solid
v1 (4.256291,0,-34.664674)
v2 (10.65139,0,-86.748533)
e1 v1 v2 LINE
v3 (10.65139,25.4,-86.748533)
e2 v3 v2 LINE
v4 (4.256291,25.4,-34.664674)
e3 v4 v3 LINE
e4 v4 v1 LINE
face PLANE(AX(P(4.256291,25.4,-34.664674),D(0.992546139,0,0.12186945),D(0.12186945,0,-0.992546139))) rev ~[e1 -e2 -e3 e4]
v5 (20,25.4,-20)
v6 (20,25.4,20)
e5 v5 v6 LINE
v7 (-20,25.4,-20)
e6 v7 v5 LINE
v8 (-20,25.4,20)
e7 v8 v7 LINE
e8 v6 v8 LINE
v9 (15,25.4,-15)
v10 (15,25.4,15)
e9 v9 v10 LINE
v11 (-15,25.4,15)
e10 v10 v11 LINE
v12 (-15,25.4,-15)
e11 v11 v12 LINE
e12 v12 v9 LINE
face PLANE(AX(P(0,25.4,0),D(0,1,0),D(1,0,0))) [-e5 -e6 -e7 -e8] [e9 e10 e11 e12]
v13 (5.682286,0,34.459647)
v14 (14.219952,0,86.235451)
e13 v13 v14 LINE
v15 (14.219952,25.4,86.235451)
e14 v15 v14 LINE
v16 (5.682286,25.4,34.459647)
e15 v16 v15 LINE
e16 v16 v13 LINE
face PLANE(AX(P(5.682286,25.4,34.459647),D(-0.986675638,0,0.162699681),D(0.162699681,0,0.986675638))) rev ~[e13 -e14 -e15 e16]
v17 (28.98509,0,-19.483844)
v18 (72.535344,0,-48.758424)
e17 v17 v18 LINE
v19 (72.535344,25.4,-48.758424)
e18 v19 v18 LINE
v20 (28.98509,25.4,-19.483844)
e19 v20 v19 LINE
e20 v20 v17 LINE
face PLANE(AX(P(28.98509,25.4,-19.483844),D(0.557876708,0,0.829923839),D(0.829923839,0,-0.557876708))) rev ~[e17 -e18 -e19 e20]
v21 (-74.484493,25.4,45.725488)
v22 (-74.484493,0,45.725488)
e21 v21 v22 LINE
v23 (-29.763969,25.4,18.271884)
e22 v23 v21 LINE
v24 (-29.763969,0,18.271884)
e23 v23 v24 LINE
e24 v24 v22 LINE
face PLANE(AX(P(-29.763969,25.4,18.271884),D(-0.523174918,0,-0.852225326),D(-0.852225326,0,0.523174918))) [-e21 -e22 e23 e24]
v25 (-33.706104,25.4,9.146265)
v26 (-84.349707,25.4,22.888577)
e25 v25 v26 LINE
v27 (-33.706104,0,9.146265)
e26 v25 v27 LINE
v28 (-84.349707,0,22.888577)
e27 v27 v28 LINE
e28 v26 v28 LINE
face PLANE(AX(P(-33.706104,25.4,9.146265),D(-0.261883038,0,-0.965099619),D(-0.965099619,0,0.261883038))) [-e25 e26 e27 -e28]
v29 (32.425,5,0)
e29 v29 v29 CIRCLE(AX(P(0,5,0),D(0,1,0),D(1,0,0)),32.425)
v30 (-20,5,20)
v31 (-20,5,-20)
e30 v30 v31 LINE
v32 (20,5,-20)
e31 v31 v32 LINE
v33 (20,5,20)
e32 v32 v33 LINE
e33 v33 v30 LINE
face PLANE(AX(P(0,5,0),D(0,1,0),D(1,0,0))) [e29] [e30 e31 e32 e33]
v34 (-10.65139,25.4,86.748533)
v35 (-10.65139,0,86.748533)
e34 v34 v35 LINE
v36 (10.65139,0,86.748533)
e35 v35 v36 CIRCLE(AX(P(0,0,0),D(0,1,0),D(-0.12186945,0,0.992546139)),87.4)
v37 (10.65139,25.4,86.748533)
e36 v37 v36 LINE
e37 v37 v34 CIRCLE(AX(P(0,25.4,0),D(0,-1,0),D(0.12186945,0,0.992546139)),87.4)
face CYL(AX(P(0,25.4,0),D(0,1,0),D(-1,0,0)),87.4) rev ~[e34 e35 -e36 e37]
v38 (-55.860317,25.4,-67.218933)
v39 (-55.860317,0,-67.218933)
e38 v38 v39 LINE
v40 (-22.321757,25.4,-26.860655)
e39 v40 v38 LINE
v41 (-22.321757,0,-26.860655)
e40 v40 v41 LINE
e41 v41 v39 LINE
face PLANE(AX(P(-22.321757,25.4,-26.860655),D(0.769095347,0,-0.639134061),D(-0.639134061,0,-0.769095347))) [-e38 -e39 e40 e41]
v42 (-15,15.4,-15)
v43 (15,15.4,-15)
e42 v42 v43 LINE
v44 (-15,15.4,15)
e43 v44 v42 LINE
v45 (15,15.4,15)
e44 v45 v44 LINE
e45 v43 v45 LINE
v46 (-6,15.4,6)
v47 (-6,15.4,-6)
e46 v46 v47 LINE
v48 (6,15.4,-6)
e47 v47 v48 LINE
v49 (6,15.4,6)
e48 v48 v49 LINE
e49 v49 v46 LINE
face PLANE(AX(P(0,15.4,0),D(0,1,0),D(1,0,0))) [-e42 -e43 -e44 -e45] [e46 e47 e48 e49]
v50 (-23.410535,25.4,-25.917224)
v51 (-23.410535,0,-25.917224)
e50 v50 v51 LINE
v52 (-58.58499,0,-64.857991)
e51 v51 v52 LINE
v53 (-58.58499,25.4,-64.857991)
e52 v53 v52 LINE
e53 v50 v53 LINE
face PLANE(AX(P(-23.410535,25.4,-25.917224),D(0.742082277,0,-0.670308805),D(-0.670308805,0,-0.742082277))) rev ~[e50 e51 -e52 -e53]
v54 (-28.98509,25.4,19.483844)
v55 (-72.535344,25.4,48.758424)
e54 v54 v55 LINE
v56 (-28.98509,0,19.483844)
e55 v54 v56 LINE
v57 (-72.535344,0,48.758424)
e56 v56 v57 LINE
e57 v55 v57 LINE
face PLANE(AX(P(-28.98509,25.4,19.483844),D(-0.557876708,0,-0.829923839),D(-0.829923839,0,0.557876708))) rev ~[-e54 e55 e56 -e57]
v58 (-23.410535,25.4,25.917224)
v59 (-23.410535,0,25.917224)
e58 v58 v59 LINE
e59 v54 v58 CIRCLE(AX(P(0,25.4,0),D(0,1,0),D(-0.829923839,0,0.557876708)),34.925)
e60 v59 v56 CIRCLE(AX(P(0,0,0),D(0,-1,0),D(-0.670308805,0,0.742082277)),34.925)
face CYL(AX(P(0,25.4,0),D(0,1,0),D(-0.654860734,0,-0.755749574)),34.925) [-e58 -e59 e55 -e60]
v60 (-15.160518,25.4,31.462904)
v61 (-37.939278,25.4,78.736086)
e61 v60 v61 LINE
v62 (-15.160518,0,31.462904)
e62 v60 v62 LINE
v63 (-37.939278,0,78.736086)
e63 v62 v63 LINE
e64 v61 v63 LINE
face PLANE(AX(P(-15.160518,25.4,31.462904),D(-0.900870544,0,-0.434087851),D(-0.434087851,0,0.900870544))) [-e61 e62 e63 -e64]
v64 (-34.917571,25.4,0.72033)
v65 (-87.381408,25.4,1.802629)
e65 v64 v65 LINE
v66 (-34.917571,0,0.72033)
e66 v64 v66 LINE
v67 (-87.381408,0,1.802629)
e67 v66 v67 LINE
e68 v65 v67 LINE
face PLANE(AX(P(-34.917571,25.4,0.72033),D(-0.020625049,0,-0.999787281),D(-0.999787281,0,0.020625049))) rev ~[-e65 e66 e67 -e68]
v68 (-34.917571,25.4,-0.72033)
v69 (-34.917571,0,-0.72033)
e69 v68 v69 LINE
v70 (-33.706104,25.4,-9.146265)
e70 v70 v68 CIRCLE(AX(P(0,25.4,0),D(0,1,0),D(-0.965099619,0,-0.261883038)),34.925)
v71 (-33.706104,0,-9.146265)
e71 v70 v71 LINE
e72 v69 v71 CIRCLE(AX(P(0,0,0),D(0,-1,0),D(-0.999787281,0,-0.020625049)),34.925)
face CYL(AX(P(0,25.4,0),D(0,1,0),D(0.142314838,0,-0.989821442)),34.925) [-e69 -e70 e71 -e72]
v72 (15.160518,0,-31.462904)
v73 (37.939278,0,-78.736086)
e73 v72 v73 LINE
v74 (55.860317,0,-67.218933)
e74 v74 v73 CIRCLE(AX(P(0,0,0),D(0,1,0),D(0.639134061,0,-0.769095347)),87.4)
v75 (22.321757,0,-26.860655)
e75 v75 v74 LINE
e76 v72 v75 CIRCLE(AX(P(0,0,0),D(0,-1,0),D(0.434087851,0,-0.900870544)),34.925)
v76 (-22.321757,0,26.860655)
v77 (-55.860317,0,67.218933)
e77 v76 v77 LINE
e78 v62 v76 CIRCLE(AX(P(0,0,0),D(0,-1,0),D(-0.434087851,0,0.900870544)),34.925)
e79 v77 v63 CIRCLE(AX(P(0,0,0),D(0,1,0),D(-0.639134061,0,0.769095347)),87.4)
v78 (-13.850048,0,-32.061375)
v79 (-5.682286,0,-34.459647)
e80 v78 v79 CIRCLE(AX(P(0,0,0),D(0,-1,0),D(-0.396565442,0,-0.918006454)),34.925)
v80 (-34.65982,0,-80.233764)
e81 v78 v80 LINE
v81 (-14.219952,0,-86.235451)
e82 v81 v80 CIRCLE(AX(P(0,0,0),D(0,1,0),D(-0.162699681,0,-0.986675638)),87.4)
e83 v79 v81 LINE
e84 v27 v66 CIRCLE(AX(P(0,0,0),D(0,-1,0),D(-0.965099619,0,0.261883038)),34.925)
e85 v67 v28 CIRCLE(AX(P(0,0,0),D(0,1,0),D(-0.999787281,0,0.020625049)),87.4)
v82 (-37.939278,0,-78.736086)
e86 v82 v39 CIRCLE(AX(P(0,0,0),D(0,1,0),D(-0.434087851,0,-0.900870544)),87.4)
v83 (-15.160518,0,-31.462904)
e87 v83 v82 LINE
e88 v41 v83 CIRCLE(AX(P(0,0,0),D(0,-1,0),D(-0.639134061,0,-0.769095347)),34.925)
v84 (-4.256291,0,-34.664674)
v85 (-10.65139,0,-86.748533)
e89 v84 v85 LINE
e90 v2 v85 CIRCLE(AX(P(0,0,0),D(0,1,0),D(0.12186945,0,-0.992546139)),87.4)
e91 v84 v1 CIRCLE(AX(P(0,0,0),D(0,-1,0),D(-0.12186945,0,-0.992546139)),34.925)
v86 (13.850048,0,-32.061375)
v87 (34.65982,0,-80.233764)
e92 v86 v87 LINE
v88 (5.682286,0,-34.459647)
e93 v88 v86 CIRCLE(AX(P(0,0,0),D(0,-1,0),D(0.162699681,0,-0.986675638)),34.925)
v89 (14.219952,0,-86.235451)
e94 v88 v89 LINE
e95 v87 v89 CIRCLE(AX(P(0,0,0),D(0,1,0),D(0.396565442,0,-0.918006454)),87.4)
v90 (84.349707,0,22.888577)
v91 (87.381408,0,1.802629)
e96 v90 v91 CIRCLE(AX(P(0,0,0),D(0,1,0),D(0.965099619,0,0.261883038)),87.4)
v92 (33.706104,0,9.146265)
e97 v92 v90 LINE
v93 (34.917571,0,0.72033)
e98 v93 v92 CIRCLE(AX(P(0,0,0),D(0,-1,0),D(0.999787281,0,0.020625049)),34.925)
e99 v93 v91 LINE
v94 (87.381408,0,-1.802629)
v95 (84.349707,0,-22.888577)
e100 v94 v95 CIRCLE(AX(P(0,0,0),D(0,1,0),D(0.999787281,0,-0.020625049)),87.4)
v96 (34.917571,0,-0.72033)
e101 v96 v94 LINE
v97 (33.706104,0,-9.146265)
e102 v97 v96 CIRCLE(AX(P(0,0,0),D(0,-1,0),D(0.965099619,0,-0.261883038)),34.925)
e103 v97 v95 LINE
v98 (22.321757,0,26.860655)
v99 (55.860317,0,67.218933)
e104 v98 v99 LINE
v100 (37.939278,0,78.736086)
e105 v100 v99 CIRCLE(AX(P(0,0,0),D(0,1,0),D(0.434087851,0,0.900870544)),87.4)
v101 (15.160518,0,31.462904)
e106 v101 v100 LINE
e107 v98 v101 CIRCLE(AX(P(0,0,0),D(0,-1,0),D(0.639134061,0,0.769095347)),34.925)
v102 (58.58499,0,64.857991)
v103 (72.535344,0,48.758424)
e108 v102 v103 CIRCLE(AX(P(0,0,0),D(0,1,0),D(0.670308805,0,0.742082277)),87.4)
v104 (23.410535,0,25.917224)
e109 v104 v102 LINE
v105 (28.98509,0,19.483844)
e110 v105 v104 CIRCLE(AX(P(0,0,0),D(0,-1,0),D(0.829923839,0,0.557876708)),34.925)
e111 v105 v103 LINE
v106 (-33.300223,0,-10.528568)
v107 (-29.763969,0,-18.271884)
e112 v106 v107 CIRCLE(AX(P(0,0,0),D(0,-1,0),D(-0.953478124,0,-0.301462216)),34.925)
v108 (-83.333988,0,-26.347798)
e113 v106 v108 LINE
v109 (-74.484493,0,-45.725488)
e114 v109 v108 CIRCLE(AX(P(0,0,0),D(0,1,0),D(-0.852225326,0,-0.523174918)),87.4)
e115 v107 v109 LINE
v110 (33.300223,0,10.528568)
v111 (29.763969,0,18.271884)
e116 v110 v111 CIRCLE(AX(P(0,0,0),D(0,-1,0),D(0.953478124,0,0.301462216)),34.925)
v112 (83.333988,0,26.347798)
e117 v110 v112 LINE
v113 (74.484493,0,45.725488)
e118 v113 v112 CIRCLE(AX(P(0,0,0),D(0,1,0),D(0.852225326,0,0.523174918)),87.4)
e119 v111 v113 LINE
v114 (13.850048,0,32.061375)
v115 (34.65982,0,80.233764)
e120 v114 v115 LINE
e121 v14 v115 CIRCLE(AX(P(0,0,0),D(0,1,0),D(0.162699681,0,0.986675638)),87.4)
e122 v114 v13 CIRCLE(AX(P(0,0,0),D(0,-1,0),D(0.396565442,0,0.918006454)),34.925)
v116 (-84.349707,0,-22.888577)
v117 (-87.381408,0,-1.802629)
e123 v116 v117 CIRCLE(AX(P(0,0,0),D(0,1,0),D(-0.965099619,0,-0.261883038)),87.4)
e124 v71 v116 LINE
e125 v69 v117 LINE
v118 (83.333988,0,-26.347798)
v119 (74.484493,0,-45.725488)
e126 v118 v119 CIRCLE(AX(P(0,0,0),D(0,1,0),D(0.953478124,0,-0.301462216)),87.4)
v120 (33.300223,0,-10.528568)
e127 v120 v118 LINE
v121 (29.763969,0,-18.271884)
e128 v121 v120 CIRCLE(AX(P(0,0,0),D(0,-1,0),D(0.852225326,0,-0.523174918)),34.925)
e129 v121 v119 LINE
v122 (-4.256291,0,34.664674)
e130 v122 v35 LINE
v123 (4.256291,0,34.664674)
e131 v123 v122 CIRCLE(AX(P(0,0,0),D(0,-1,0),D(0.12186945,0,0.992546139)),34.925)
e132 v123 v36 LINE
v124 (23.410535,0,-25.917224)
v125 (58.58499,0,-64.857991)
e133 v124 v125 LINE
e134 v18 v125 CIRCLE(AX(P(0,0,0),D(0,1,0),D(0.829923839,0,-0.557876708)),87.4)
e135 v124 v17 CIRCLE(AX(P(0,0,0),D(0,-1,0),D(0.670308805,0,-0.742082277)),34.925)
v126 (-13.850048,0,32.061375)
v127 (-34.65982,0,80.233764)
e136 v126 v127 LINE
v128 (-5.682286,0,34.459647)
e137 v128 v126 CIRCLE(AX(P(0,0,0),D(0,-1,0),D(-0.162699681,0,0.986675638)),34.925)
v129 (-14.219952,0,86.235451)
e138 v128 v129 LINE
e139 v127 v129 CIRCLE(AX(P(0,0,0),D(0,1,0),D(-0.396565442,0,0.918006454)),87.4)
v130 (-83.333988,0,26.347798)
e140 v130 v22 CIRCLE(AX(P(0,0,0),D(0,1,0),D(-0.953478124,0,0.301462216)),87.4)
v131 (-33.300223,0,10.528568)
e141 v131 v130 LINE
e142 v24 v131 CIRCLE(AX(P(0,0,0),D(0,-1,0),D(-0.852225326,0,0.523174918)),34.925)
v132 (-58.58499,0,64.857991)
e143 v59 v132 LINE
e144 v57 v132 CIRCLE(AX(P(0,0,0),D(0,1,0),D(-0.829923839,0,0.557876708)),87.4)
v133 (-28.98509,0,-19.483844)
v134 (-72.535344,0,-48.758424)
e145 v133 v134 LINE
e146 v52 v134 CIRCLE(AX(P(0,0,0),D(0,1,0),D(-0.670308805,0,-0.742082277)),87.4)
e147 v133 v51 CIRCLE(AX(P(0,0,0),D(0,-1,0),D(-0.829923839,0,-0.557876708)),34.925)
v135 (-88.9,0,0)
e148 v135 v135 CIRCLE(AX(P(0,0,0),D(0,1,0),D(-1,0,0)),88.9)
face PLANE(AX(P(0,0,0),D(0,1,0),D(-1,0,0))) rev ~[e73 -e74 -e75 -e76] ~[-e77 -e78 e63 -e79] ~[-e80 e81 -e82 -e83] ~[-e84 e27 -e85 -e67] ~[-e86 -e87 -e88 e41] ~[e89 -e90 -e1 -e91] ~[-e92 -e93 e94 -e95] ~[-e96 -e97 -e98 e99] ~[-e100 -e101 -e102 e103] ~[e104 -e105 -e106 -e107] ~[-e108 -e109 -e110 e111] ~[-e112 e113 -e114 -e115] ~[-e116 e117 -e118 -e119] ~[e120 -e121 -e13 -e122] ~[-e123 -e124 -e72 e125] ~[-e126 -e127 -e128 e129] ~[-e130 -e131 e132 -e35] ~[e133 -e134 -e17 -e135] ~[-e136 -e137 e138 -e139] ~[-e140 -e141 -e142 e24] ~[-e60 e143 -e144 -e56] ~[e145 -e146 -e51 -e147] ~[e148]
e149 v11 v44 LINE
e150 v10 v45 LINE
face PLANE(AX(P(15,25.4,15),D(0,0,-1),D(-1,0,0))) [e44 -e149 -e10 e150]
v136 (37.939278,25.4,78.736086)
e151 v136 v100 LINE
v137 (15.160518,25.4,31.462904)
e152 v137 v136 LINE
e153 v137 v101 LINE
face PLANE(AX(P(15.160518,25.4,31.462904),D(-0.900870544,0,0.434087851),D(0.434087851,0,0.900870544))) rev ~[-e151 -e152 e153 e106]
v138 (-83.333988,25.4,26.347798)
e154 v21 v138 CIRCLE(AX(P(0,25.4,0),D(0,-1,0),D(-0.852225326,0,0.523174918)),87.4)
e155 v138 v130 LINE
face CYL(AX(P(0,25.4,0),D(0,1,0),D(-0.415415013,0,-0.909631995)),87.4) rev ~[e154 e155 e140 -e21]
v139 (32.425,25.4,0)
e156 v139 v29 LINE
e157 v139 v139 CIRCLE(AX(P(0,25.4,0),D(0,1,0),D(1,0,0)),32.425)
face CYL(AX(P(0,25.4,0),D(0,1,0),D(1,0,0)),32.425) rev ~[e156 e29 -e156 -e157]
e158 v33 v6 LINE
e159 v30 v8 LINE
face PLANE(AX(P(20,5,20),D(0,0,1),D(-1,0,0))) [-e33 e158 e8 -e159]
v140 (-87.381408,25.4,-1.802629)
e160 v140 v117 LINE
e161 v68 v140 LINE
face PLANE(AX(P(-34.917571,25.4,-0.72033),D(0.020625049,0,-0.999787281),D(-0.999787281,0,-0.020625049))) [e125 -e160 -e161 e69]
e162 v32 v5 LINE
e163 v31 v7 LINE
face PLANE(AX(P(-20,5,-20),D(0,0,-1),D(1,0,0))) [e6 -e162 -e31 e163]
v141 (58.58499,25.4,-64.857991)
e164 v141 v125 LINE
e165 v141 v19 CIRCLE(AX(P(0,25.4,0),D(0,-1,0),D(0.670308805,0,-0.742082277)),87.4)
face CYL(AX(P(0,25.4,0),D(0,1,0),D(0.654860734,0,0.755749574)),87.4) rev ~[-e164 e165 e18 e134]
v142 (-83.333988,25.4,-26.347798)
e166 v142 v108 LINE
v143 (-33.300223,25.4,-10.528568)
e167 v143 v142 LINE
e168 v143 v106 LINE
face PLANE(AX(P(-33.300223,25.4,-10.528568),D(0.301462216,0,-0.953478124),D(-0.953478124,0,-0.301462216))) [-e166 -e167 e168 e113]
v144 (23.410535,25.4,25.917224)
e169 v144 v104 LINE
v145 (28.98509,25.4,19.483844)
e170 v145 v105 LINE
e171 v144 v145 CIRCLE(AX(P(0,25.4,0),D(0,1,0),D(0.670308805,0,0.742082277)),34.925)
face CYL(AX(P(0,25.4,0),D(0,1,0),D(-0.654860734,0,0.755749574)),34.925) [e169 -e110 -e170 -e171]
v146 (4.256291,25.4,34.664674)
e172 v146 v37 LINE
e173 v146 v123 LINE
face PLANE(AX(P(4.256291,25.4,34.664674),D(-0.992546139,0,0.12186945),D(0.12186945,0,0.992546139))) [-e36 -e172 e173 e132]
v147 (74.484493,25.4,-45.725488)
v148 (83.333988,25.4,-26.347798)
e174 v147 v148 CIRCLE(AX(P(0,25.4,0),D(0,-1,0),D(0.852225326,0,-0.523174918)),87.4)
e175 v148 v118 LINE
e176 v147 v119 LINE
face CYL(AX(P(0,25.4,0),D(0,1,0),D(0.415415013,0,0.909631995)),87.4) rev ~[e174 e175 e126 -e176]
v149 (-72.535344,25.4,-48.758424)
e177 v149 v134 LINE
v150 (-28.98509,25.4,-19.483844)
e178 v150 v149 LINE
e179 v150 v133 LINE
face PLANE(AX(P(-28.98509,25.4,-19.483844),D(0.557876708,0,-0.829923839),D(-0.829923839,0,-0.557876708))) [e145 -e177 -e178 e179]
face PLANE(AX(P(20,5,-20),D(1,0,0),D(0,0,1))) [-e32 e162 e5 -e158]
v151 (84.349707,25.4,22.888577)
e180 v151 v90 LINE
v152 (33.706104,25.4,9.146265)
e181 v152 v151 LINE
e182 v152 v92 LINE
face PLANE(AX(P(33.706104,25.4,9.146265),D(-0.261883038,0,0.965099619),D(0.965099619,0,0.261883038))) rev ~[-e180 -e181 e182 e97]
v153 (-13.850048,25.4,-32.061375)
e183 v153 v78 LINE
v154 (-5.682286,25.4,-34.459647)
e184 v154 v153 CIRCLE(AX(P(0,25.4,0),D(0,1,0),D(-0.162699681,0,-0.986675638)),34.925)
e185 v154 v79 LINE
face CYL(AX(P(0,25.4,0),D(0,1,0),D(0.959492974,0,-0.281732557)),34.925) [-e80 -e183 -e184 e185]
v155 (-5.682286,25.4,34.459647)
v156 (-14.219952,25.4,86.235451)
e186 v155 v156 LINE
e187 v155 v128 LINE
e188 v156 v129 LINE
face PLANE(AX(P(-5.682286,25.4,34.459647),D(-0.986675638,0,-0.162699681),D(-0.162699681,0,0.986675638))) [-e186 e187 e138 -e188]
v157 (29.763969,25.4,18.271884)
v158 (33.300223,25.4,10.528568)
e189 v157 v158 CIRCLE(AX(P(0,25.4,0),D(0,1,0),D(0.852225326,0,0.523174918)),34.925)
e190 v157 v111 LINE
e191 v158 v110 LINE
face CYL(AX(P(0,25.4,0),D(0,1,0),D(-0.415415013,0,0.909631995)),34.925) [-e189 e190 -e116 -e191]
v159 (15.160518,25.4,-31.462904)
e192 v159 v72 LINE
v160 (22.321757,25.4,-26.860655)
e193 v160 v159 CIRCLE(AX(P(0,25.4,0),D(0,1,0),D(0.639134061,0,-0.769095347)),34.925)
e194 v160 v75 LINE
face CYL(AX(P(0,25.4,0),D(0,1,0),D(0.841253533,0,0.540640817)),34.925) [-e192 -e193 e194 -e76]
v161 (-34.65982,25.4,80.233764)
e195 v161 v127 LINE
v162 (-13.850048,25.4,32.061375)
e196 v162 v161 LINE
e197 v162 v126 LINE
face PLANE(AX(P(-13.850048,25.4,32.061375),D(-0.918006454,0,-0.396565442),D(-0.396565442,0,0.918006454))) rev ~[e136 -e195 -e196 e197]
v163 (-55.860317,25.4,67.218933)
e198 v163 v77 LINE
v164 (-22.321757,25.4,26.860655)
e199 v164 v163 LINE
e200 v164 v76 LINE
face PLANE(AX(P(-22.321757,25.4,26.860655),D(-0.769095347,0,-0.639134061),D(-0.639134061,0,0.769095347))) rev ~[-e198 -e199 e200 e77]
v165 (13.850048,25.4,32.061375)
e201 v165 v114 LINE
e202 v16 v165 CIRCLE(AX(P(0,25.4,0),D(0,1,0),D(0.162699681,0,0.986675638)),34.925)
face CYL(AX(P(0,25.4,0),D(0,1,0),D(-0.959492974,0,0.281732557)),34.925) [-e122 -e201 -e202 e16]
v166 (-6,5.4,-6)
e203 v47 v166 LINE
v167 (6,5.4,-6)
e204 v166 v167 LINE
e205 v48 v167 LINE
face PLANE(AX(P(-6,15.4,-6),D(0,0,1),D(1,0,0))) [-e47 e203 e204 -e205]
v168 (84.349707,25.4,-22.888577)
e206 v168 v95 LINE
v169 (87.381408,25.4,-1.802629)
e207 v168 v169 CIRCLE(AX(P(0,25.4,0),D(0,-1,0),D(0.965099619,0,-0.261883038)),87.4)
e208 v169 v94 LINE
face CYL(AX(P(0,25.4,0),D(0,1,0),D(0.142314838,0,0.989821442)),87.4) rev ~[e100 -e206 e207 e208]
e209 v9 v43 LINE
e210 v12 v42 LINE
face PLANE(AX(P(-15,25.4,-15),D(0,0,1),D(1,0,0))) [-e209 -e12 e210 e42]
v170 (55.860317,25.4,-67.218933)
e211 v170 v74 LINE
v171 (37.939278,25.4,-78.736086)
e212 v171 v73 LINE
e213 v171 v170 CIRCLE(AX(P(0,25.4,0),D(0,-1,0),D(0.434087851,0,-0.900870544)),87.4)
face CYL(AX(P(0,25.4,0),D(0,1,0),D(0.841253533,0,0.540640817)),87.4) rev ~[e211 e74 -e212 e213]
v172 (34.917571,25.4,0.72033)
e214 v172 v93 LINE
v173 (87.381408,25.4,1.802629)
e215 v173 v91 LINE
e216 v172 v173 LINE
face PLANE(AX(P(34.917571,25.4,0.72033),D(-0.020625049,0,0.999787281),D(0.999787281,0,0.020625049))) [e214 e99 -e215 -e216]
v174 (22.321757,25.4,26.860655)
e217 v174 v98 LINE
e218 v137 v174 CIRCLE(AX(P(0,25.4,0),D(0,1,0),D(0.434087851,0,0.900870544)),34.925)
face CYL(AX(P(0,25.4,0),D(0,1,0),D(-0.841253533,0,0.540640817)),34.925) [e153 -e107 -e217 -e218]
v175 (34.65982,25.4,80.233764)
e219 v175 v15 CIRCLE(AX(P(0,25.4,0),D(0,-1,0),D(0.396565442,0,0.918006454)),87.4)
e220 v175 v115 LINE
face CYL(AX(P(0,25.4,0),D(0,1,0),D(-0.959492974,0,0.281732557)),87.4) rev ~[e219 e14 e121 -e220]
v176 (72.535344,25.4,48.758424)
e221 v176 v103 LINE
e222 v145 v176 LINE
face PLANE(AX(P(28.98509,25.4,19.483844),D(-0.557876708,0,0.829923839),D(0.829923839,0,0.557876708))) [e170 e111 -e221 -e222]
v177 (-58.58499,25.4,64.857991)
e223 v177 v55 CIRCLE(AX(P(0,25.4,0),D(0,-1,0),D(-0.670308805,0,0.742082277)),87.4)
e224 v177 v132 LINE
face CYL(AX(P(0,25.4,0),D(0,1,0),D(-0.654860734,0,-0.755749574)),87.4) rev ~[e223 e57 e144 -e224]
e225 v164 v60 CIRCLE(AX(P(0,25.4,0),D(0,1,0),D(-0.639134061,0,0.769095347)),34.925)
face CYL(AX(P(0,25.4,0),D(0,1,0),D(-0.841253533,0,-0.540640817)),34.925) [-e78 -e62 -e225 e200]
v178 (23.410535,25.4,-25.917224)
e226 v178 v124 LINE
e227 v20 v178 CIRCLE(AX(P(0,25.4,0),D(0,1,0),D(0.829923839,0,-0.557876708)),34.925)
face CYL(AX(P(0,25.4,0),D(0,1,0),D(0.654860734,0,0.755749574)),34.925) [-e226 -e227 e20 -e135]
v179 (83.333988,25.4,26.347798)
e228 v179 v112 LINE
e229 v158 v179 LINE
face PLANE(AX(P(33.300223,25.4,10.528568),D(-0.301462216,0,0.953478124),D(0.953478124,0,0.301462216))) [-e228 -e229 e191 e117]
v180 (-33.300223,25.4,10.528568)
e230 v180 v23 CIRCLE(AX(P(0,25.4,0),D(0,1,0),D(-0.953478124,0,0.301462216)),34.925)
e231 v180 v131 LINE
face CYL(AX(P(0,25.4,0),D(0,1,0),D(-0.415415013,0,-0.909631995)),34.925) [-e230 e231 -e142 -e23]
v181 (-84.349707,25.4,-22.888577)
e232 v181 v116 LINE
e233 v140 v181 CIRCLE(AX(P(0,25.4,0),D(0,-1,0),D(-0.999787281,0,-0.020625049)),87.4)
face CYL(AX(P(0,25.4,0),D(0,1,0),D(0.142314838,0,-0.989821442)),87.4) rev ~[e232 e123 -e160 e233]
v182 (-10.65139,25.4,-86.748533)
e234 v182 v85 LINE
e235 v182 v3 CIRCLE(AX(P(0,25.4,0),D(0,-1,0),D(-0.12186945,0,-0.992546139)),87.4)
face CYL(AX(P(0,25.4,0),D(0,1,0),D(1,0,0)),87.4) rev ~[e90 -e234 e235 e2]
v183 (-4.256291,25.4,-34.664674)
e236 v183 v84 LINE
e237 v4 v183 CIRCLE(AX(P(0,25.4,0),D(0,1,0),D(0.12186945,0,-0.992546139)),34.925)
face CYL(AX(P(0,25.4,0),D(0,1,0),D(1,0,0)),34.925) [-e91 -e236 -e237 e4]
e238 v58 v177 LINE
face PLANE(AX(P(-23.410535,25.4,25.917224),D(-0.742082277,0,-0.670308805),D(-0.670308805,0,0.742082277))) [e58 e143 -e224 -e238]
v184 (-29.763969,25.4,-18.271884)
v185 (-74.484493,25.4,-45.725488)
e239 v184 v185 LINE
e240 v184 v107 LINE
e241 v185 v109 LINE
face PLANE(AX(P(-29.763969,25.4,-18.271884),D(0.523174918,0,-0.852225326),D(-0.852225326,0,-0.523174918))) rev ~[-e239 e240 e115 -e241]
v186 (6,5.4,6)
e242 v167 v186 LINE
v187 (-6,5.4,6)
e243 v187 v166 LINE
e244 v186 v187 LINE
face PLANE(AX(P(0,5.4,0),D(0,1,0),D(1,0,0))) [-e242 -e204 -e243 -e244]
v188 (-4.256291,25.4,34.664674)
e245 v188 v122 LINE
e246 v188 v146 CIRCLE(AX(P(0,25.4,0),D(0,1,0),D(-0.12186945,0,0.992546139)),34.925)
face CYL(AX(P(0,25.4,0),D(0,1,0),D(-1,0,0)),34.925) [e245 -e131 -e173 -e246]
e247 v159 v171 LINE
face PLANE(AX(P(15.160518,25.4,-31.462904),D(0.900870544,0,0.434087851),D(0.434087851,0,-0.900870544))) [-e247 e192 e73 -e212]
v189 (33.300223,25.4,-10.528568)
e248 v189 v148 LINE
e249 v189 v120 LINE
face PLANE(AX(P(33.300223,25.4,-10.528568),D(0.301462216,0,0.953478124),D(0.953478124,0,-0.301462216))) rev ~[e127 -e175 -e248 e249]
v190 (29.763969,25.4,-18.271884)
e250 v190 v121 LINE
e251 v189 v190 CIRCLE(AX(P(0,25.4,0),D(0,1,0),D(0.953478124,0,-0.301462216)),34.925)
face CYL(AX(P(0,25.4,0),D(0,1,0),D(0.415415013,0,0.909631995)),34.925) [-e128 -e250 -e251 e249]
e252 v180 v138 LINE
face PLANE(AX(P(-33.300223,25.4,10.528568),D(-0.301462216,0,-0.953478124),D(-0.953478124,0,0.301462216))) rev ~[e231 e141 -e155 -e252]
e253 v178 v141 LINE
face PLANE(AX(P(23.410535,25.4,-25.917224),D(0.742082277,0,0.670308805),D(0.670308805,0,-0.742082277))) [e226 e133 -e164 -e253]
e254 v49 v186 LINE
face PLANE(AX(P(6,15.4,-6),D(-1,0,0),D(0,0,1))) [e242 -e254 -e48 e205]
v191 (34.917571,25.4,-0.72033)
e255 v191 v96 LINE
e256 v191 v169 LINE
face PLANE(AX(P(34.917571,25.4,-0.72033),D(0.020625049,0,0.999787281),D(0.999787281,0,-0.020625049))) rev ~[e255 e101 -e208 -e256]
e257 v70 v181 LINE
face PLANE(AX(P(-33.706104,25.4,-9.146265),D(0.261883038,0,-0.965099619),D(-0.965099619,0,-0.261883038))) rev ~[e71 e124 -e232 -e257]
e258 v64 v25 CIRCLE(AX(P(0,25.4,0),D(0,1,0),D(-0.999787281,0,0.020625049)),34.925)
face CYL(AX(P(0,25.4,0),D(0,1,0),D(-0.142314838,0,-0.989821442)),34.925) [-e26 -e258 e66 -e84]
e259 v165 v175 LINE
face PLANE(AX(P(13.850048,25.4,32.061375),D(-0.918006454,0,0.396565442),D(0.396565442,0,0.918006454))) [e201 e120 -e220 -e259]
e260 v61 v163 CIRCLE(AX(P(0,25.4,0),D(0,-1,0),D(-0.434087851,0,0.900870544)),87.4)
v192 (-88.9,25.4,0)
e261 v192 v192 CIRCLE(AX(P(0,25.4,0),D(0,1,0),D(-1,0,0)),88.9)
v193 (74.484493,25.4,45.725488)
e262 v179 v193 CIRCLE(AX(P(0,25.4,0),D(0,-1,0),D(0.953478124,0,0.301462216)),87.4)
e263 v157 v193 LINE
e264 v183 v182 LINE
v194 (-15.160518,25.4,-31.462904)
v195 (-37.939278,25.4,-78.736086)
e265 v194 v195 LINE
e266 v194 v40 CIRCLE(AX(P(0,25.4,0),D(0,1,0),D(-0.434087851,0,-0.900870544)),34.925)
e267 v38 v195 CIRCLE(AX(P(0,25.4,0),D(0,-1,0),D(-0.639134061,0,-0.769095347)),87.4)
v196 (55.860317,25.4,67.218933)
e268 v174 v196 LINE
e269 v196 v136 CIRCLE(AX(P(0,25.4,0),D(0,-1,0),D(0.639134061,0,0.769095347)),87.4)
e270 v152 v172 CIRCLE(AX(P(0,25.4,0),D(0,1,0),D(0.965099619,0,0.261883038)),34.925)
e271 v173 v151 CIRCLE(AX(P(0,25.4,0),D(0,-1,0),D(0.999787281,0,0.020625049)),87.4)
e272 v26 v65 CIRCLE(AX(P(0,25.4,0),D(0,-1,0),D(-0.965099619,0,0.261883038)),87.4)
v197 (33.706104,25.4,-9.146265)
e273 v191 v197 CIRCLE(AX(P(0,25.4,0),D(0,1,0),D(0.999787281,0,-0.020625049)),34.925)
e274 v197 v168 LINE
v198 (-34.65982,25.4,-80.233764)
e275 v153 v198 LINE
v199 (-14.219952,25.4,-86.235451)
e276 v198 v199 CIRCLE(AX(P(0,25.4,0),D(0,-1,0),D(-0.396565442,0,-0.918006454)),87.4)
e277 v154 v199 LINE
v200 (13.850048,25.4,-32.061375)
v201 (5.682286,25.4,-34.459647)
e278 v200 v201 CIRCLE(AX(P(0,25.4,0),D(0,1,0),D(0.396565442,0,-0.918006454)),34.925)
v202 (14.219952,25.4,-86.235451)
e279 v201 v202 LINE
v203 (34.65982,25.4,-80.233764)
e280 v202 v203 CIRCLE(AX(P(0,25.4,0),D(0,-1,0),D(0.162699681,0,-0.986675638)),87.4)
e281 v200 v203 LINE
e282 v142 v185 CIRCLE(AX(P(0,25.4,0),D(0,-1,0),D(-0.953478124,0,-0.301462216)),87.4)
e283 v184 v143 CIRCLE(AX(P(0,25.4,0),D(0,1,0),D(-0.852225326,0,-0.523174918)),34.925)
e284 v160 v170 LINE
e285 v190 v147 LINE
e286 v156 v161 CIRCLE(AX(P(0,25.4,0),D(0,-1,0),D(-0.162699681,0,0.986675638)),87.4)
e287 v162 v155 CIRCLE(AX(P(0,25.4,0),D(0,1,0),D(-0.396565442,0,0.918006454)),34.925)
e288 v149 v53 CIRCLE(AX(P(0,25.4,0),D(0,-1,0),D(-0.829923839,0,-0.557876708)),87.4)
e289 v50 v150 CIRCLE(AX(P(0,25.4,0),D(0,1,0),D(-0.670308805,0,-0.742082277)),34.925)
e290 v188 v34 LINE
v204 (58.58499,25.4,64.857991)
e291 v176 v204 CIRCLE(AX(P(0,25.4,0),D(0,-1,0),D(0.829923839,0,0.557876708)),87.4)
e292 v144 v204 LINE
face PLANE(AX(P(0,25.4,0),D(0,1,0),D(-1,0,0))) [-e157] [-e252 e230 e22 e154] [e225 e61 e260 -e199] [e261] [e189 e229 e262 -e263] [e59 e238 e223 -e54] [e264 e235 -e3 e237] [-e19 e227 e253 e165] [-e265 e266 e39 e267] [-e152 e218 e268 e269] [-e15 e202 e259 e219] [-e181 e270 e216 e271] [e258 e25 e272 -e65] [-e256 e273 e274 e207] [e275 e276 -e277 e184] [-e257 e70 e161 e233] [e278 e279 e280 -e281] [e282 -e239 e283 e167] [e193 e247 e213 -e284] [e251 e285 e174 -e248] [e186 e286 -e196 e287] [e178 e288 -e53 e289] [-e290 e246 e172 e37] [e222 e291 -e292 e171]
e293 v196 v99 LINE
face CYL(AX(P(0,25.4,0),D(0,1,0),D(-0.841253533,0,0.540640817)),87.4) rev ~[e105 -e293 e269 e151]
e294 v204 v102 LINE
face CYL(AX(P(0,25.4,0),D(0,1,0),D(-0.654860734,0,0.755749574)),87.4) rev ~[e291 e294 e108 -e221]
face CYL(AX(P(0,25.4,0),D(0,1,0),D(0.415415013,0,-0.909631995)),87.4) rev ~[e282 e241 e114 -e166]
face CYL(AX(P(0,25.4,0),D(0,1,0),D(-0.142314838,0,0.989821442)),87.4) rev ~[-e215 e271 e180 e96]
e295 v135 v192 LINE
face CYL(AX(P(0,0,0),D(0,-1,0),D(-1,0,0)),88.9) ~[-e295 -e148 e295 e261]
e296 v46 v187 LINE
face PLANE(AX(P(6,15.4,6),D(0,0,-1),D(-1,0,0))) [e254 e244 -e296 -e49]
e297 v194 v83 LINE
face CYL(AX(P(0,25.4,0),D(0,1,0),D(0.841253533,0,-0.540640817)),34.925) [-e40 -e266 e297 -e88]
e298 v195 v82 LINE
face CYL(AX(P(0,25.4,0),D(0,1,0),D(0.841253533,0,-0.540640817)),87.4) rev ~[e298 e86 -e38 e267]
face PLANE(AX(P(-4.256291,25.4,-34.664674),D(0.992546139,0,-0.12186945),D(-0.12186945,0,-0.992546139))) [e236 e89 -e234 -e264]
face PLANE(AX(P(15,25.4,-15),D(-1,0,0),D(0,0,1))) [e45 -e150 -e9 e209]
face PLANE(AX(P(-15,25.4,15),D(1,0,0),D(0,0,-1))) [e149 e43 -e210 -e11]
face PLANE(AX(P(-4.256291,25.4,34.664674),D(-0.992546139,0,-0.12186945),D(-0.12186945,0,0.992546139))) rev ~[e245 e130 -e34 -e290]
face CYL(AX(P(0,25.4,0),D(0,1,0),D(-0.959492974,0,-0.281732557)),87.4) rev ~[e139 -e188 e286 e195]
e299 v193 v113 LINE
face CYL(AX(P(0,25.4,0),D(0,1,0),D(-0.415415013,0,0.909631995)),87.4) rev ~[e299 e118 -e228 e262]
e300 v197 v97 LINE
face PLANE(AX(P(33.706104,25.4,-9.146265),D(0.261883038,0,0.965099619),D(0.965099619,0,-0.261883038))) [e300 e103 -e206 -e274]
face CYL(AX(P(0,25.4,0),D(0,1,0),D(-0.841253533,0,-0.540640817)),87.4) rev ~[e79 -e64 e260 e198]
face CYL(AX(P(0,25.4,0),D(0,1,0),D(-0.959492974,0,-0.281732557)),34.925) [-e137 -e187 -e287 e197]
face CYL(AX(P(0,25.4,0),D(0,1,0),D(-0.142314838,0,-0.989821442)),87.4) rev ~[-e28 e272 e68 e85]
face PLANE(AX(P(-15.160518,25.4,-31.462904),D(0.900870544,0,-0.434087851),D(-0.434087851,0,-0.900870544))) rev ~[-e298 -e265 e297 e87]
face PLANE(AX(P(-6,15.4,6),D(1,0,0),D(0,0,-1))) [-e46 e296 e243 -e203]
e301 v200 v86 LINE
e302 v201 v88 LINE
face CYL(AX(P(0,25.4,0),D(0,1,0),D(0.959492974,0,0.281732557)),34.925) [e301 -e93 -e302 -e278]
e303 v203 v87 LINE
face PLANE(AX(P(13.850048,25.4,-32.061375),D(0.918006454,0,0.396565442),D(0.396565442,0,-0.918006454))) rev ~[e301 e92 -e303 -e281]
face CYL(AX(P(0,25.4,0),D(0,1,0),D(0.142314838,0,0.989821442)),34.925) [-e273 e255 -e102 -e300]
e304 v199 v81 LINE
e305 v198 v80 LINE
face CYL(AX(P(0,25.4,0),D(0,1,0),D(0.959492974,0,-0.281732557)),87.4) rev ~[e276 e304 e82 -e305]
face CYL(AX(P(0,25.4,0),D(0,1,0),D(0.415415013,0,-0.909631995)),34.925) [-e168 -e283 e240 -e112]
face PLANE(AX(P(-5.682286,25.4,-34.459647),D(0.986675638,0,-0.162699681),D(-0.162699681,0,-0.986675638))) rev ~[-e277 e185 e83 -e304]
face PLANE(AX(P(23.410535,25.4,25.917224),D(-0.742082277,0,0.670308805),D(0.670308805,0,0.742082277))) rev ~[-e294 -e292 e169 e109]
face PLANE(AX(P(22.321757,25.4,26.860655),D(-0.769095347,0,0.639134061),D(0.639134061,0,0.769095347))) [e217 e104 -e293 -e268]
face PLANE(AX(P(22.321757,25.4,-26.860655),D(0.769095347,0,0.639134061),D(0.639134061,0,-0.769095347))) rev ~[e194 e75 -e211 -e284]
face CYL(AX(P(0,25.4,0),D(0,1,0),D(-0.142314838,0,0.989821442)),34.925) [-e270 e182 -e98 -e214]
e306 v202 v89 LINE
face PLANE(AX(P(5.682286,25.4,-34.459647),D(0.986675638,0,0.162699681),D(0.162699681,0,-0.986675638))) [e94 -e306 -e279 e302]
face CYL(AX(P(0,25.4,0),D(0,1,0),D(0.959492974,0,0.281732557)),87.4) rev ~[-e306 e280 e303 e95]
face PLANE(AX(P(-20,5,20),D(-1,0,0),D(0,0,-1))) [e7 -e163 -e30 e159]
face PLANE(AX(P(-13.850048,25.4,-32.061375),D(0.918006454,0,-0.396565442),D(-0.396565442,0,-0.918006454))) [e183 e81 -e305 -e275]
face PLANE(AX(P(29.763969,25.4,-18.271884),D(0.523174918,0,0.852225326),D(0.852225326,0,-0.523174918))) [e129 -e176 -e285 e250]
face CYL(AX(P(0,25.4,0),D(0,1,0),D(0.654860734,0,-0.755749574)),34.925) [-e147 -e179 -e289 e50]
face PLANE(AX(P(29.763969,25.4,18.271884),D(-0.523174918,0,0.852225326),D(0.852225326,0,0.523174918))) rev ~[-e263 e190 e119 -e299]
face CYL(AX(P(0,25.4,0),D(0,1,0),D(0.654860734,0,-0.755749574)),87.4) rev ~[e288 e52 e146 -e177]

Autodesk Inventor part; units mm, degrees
sketch "Sketch1" plane through (0, 0, 0) normal (0, 1, 0) x (-1, 0, 0)
  circle A0 centre (0, 0) radius 88.9
  dimension "d0" = 177.8
extrude "Extrusion1" add sketch "Sketch1" along normal blind 25.4
sketch "Sketch2" plane through (0, 25.4, 0) normal (0, 1, 0) x (1, 0, 0)
  circle A0 centre (0, 0) radius 87.4
  line L0 (0, 0) -> (-10.8342, 88.2374)
  circle A1 centre (0, 0) radius 88.9 projected
  line L1 (0, 0) -> (10.8342, 88.2374)
  circle A2 centre (0, 0) radius 34.925
  line L2 (0, 0) -> (0, 88.9)
  point P0 (-4.2563, 34.6647)
  point P1 (4.2563, 34.6647)
  point P2 (10.6514, 86.7485)
  point P3 (-10.6514, 86.7485)
  dimension "d3" = 174.8
  dimension "d4" = 69.85
  dimension "d10" = 14
  dimension "d11" = 7
extrude "Extrusion2" cut sketch "Sketch2" against normal blind 25.4 contours L1 A2 L2 A0 | A0 L2 A2 L0
pattern_circular "Circular Pattern1" count 22 over 360 about axis through (0, 0, 0) along (0, 1, 0) of "Extrusion2"
sketch "Sketch4" plane through (0, 25.4, 0) normal (0, 1, 0) x (1, 0, 0)
  circle A0 centre (0, 0) radius 32.425
  dimension "d16" = 64.85
extrude "Extrusion3" cut sketch "Sketch4" against normal blind 20.4
ref_plane "Work Plane1" through (0, 5, 0) normal (0, 1, 0) x (1, 0, 0)
sketch "Sketch5" plane through (0, 5, 0) normal (0, 1, 0) x (1, 0, 0)
  line L0 (-20, 20) -> (20, 20)
  line L1 (20, 20) -> (20, -20)
  line L2 (20, -20) -> (-20, -20)
  line L3 (-20, -20) -> (-20, 20)
  point P0 (0, 0)
  dimension "d20" = 40
  dimension "d21" = 40
  dimension "d22" = 20
  dimension "d23" = 20
extrude "Extrusion4" add sketch "Sketch5" along normal blind 20.4
ref_plane "Work Plane2" through (0, 25.4, 0) normal (0, 1, 0) x (1, 0, 0)
sketch "Sketch6" plane through (0, 25.4, 0) normal (0, 1, 0) x (1, 0, 0)
  line L0 (-15, 15) -> (15, 15)
  line L1 (15, 15) -> (15, -15)
  line L2 (15, -15) -> (-15, -15)
  line L3 (-15, -15) -> (-15, 15)
  point P0 (0, 0)
  dimension "d26" = 30
  dimension "d27" = 15
  dimension "d28" = 15
  dimension "d29" = 30
extrude "Extrusion5" cut sketch "Sketch6" against normal blind 10
ref_plane "Work Plane3" through (0, 15.4, 0) normal (0, 1, 0) x (1, 0, 0)
sketch "Sketch7" plane through (0, 15.4, 0) normal (0, 1, 0) x (1, 0, 0)
  line L0 (-6, 6) -> (6, 6)
  line L1 (6, 6) -> (6, -6)
  line L2 (6, -6) -> (-6, -6)
  line L3 (-6, -6) -> (-6, 6)
  line L4 (-15, 15) -> (15, 15) projected
  line L5 (15, 15) -> (15, -15) projected
  line L6 (-15, -15) -> (-15, 15) projected
  line L7 (15, -15) -> (-15, -15) projected
  point P0 (0, 0)
  dimension "d32" = 9
  dimension "d33" = 9
  dimension "d34" = 9
  dimension "d35" = 9
extrude "Extrusion6" cut sketch "Sketch7" against normal blind 10 contours L0 L1 L2 L3
sketch "Sketch15" plane through (0, 25.4, 0) normal (0, 1, 0) x (1, 0, 0)
  point P0 (0, 0)
sketch "Sketch16" plane through (0, 0, 0) normal (0, -1, 0) x (1, 0, 0)
  point P0 (0, 0)
equation "\"d11\" = 0.5 * d10"
equation "\"d21\" = d20"
equation "\"d22\" = 0.5 * d20"
equation "\"d23\" = 0.5 * d20"
equation "\"d27\" = 0.5 * d26"
equation "\"d28\" = 0.5 * d26"
equation "\"d29\" = d26"
equation "\"d33\" = d32"
equation "\"d34\" = d32"
equation "\"d35\" = d32"
properties part number "Capsule_Design_Final"
